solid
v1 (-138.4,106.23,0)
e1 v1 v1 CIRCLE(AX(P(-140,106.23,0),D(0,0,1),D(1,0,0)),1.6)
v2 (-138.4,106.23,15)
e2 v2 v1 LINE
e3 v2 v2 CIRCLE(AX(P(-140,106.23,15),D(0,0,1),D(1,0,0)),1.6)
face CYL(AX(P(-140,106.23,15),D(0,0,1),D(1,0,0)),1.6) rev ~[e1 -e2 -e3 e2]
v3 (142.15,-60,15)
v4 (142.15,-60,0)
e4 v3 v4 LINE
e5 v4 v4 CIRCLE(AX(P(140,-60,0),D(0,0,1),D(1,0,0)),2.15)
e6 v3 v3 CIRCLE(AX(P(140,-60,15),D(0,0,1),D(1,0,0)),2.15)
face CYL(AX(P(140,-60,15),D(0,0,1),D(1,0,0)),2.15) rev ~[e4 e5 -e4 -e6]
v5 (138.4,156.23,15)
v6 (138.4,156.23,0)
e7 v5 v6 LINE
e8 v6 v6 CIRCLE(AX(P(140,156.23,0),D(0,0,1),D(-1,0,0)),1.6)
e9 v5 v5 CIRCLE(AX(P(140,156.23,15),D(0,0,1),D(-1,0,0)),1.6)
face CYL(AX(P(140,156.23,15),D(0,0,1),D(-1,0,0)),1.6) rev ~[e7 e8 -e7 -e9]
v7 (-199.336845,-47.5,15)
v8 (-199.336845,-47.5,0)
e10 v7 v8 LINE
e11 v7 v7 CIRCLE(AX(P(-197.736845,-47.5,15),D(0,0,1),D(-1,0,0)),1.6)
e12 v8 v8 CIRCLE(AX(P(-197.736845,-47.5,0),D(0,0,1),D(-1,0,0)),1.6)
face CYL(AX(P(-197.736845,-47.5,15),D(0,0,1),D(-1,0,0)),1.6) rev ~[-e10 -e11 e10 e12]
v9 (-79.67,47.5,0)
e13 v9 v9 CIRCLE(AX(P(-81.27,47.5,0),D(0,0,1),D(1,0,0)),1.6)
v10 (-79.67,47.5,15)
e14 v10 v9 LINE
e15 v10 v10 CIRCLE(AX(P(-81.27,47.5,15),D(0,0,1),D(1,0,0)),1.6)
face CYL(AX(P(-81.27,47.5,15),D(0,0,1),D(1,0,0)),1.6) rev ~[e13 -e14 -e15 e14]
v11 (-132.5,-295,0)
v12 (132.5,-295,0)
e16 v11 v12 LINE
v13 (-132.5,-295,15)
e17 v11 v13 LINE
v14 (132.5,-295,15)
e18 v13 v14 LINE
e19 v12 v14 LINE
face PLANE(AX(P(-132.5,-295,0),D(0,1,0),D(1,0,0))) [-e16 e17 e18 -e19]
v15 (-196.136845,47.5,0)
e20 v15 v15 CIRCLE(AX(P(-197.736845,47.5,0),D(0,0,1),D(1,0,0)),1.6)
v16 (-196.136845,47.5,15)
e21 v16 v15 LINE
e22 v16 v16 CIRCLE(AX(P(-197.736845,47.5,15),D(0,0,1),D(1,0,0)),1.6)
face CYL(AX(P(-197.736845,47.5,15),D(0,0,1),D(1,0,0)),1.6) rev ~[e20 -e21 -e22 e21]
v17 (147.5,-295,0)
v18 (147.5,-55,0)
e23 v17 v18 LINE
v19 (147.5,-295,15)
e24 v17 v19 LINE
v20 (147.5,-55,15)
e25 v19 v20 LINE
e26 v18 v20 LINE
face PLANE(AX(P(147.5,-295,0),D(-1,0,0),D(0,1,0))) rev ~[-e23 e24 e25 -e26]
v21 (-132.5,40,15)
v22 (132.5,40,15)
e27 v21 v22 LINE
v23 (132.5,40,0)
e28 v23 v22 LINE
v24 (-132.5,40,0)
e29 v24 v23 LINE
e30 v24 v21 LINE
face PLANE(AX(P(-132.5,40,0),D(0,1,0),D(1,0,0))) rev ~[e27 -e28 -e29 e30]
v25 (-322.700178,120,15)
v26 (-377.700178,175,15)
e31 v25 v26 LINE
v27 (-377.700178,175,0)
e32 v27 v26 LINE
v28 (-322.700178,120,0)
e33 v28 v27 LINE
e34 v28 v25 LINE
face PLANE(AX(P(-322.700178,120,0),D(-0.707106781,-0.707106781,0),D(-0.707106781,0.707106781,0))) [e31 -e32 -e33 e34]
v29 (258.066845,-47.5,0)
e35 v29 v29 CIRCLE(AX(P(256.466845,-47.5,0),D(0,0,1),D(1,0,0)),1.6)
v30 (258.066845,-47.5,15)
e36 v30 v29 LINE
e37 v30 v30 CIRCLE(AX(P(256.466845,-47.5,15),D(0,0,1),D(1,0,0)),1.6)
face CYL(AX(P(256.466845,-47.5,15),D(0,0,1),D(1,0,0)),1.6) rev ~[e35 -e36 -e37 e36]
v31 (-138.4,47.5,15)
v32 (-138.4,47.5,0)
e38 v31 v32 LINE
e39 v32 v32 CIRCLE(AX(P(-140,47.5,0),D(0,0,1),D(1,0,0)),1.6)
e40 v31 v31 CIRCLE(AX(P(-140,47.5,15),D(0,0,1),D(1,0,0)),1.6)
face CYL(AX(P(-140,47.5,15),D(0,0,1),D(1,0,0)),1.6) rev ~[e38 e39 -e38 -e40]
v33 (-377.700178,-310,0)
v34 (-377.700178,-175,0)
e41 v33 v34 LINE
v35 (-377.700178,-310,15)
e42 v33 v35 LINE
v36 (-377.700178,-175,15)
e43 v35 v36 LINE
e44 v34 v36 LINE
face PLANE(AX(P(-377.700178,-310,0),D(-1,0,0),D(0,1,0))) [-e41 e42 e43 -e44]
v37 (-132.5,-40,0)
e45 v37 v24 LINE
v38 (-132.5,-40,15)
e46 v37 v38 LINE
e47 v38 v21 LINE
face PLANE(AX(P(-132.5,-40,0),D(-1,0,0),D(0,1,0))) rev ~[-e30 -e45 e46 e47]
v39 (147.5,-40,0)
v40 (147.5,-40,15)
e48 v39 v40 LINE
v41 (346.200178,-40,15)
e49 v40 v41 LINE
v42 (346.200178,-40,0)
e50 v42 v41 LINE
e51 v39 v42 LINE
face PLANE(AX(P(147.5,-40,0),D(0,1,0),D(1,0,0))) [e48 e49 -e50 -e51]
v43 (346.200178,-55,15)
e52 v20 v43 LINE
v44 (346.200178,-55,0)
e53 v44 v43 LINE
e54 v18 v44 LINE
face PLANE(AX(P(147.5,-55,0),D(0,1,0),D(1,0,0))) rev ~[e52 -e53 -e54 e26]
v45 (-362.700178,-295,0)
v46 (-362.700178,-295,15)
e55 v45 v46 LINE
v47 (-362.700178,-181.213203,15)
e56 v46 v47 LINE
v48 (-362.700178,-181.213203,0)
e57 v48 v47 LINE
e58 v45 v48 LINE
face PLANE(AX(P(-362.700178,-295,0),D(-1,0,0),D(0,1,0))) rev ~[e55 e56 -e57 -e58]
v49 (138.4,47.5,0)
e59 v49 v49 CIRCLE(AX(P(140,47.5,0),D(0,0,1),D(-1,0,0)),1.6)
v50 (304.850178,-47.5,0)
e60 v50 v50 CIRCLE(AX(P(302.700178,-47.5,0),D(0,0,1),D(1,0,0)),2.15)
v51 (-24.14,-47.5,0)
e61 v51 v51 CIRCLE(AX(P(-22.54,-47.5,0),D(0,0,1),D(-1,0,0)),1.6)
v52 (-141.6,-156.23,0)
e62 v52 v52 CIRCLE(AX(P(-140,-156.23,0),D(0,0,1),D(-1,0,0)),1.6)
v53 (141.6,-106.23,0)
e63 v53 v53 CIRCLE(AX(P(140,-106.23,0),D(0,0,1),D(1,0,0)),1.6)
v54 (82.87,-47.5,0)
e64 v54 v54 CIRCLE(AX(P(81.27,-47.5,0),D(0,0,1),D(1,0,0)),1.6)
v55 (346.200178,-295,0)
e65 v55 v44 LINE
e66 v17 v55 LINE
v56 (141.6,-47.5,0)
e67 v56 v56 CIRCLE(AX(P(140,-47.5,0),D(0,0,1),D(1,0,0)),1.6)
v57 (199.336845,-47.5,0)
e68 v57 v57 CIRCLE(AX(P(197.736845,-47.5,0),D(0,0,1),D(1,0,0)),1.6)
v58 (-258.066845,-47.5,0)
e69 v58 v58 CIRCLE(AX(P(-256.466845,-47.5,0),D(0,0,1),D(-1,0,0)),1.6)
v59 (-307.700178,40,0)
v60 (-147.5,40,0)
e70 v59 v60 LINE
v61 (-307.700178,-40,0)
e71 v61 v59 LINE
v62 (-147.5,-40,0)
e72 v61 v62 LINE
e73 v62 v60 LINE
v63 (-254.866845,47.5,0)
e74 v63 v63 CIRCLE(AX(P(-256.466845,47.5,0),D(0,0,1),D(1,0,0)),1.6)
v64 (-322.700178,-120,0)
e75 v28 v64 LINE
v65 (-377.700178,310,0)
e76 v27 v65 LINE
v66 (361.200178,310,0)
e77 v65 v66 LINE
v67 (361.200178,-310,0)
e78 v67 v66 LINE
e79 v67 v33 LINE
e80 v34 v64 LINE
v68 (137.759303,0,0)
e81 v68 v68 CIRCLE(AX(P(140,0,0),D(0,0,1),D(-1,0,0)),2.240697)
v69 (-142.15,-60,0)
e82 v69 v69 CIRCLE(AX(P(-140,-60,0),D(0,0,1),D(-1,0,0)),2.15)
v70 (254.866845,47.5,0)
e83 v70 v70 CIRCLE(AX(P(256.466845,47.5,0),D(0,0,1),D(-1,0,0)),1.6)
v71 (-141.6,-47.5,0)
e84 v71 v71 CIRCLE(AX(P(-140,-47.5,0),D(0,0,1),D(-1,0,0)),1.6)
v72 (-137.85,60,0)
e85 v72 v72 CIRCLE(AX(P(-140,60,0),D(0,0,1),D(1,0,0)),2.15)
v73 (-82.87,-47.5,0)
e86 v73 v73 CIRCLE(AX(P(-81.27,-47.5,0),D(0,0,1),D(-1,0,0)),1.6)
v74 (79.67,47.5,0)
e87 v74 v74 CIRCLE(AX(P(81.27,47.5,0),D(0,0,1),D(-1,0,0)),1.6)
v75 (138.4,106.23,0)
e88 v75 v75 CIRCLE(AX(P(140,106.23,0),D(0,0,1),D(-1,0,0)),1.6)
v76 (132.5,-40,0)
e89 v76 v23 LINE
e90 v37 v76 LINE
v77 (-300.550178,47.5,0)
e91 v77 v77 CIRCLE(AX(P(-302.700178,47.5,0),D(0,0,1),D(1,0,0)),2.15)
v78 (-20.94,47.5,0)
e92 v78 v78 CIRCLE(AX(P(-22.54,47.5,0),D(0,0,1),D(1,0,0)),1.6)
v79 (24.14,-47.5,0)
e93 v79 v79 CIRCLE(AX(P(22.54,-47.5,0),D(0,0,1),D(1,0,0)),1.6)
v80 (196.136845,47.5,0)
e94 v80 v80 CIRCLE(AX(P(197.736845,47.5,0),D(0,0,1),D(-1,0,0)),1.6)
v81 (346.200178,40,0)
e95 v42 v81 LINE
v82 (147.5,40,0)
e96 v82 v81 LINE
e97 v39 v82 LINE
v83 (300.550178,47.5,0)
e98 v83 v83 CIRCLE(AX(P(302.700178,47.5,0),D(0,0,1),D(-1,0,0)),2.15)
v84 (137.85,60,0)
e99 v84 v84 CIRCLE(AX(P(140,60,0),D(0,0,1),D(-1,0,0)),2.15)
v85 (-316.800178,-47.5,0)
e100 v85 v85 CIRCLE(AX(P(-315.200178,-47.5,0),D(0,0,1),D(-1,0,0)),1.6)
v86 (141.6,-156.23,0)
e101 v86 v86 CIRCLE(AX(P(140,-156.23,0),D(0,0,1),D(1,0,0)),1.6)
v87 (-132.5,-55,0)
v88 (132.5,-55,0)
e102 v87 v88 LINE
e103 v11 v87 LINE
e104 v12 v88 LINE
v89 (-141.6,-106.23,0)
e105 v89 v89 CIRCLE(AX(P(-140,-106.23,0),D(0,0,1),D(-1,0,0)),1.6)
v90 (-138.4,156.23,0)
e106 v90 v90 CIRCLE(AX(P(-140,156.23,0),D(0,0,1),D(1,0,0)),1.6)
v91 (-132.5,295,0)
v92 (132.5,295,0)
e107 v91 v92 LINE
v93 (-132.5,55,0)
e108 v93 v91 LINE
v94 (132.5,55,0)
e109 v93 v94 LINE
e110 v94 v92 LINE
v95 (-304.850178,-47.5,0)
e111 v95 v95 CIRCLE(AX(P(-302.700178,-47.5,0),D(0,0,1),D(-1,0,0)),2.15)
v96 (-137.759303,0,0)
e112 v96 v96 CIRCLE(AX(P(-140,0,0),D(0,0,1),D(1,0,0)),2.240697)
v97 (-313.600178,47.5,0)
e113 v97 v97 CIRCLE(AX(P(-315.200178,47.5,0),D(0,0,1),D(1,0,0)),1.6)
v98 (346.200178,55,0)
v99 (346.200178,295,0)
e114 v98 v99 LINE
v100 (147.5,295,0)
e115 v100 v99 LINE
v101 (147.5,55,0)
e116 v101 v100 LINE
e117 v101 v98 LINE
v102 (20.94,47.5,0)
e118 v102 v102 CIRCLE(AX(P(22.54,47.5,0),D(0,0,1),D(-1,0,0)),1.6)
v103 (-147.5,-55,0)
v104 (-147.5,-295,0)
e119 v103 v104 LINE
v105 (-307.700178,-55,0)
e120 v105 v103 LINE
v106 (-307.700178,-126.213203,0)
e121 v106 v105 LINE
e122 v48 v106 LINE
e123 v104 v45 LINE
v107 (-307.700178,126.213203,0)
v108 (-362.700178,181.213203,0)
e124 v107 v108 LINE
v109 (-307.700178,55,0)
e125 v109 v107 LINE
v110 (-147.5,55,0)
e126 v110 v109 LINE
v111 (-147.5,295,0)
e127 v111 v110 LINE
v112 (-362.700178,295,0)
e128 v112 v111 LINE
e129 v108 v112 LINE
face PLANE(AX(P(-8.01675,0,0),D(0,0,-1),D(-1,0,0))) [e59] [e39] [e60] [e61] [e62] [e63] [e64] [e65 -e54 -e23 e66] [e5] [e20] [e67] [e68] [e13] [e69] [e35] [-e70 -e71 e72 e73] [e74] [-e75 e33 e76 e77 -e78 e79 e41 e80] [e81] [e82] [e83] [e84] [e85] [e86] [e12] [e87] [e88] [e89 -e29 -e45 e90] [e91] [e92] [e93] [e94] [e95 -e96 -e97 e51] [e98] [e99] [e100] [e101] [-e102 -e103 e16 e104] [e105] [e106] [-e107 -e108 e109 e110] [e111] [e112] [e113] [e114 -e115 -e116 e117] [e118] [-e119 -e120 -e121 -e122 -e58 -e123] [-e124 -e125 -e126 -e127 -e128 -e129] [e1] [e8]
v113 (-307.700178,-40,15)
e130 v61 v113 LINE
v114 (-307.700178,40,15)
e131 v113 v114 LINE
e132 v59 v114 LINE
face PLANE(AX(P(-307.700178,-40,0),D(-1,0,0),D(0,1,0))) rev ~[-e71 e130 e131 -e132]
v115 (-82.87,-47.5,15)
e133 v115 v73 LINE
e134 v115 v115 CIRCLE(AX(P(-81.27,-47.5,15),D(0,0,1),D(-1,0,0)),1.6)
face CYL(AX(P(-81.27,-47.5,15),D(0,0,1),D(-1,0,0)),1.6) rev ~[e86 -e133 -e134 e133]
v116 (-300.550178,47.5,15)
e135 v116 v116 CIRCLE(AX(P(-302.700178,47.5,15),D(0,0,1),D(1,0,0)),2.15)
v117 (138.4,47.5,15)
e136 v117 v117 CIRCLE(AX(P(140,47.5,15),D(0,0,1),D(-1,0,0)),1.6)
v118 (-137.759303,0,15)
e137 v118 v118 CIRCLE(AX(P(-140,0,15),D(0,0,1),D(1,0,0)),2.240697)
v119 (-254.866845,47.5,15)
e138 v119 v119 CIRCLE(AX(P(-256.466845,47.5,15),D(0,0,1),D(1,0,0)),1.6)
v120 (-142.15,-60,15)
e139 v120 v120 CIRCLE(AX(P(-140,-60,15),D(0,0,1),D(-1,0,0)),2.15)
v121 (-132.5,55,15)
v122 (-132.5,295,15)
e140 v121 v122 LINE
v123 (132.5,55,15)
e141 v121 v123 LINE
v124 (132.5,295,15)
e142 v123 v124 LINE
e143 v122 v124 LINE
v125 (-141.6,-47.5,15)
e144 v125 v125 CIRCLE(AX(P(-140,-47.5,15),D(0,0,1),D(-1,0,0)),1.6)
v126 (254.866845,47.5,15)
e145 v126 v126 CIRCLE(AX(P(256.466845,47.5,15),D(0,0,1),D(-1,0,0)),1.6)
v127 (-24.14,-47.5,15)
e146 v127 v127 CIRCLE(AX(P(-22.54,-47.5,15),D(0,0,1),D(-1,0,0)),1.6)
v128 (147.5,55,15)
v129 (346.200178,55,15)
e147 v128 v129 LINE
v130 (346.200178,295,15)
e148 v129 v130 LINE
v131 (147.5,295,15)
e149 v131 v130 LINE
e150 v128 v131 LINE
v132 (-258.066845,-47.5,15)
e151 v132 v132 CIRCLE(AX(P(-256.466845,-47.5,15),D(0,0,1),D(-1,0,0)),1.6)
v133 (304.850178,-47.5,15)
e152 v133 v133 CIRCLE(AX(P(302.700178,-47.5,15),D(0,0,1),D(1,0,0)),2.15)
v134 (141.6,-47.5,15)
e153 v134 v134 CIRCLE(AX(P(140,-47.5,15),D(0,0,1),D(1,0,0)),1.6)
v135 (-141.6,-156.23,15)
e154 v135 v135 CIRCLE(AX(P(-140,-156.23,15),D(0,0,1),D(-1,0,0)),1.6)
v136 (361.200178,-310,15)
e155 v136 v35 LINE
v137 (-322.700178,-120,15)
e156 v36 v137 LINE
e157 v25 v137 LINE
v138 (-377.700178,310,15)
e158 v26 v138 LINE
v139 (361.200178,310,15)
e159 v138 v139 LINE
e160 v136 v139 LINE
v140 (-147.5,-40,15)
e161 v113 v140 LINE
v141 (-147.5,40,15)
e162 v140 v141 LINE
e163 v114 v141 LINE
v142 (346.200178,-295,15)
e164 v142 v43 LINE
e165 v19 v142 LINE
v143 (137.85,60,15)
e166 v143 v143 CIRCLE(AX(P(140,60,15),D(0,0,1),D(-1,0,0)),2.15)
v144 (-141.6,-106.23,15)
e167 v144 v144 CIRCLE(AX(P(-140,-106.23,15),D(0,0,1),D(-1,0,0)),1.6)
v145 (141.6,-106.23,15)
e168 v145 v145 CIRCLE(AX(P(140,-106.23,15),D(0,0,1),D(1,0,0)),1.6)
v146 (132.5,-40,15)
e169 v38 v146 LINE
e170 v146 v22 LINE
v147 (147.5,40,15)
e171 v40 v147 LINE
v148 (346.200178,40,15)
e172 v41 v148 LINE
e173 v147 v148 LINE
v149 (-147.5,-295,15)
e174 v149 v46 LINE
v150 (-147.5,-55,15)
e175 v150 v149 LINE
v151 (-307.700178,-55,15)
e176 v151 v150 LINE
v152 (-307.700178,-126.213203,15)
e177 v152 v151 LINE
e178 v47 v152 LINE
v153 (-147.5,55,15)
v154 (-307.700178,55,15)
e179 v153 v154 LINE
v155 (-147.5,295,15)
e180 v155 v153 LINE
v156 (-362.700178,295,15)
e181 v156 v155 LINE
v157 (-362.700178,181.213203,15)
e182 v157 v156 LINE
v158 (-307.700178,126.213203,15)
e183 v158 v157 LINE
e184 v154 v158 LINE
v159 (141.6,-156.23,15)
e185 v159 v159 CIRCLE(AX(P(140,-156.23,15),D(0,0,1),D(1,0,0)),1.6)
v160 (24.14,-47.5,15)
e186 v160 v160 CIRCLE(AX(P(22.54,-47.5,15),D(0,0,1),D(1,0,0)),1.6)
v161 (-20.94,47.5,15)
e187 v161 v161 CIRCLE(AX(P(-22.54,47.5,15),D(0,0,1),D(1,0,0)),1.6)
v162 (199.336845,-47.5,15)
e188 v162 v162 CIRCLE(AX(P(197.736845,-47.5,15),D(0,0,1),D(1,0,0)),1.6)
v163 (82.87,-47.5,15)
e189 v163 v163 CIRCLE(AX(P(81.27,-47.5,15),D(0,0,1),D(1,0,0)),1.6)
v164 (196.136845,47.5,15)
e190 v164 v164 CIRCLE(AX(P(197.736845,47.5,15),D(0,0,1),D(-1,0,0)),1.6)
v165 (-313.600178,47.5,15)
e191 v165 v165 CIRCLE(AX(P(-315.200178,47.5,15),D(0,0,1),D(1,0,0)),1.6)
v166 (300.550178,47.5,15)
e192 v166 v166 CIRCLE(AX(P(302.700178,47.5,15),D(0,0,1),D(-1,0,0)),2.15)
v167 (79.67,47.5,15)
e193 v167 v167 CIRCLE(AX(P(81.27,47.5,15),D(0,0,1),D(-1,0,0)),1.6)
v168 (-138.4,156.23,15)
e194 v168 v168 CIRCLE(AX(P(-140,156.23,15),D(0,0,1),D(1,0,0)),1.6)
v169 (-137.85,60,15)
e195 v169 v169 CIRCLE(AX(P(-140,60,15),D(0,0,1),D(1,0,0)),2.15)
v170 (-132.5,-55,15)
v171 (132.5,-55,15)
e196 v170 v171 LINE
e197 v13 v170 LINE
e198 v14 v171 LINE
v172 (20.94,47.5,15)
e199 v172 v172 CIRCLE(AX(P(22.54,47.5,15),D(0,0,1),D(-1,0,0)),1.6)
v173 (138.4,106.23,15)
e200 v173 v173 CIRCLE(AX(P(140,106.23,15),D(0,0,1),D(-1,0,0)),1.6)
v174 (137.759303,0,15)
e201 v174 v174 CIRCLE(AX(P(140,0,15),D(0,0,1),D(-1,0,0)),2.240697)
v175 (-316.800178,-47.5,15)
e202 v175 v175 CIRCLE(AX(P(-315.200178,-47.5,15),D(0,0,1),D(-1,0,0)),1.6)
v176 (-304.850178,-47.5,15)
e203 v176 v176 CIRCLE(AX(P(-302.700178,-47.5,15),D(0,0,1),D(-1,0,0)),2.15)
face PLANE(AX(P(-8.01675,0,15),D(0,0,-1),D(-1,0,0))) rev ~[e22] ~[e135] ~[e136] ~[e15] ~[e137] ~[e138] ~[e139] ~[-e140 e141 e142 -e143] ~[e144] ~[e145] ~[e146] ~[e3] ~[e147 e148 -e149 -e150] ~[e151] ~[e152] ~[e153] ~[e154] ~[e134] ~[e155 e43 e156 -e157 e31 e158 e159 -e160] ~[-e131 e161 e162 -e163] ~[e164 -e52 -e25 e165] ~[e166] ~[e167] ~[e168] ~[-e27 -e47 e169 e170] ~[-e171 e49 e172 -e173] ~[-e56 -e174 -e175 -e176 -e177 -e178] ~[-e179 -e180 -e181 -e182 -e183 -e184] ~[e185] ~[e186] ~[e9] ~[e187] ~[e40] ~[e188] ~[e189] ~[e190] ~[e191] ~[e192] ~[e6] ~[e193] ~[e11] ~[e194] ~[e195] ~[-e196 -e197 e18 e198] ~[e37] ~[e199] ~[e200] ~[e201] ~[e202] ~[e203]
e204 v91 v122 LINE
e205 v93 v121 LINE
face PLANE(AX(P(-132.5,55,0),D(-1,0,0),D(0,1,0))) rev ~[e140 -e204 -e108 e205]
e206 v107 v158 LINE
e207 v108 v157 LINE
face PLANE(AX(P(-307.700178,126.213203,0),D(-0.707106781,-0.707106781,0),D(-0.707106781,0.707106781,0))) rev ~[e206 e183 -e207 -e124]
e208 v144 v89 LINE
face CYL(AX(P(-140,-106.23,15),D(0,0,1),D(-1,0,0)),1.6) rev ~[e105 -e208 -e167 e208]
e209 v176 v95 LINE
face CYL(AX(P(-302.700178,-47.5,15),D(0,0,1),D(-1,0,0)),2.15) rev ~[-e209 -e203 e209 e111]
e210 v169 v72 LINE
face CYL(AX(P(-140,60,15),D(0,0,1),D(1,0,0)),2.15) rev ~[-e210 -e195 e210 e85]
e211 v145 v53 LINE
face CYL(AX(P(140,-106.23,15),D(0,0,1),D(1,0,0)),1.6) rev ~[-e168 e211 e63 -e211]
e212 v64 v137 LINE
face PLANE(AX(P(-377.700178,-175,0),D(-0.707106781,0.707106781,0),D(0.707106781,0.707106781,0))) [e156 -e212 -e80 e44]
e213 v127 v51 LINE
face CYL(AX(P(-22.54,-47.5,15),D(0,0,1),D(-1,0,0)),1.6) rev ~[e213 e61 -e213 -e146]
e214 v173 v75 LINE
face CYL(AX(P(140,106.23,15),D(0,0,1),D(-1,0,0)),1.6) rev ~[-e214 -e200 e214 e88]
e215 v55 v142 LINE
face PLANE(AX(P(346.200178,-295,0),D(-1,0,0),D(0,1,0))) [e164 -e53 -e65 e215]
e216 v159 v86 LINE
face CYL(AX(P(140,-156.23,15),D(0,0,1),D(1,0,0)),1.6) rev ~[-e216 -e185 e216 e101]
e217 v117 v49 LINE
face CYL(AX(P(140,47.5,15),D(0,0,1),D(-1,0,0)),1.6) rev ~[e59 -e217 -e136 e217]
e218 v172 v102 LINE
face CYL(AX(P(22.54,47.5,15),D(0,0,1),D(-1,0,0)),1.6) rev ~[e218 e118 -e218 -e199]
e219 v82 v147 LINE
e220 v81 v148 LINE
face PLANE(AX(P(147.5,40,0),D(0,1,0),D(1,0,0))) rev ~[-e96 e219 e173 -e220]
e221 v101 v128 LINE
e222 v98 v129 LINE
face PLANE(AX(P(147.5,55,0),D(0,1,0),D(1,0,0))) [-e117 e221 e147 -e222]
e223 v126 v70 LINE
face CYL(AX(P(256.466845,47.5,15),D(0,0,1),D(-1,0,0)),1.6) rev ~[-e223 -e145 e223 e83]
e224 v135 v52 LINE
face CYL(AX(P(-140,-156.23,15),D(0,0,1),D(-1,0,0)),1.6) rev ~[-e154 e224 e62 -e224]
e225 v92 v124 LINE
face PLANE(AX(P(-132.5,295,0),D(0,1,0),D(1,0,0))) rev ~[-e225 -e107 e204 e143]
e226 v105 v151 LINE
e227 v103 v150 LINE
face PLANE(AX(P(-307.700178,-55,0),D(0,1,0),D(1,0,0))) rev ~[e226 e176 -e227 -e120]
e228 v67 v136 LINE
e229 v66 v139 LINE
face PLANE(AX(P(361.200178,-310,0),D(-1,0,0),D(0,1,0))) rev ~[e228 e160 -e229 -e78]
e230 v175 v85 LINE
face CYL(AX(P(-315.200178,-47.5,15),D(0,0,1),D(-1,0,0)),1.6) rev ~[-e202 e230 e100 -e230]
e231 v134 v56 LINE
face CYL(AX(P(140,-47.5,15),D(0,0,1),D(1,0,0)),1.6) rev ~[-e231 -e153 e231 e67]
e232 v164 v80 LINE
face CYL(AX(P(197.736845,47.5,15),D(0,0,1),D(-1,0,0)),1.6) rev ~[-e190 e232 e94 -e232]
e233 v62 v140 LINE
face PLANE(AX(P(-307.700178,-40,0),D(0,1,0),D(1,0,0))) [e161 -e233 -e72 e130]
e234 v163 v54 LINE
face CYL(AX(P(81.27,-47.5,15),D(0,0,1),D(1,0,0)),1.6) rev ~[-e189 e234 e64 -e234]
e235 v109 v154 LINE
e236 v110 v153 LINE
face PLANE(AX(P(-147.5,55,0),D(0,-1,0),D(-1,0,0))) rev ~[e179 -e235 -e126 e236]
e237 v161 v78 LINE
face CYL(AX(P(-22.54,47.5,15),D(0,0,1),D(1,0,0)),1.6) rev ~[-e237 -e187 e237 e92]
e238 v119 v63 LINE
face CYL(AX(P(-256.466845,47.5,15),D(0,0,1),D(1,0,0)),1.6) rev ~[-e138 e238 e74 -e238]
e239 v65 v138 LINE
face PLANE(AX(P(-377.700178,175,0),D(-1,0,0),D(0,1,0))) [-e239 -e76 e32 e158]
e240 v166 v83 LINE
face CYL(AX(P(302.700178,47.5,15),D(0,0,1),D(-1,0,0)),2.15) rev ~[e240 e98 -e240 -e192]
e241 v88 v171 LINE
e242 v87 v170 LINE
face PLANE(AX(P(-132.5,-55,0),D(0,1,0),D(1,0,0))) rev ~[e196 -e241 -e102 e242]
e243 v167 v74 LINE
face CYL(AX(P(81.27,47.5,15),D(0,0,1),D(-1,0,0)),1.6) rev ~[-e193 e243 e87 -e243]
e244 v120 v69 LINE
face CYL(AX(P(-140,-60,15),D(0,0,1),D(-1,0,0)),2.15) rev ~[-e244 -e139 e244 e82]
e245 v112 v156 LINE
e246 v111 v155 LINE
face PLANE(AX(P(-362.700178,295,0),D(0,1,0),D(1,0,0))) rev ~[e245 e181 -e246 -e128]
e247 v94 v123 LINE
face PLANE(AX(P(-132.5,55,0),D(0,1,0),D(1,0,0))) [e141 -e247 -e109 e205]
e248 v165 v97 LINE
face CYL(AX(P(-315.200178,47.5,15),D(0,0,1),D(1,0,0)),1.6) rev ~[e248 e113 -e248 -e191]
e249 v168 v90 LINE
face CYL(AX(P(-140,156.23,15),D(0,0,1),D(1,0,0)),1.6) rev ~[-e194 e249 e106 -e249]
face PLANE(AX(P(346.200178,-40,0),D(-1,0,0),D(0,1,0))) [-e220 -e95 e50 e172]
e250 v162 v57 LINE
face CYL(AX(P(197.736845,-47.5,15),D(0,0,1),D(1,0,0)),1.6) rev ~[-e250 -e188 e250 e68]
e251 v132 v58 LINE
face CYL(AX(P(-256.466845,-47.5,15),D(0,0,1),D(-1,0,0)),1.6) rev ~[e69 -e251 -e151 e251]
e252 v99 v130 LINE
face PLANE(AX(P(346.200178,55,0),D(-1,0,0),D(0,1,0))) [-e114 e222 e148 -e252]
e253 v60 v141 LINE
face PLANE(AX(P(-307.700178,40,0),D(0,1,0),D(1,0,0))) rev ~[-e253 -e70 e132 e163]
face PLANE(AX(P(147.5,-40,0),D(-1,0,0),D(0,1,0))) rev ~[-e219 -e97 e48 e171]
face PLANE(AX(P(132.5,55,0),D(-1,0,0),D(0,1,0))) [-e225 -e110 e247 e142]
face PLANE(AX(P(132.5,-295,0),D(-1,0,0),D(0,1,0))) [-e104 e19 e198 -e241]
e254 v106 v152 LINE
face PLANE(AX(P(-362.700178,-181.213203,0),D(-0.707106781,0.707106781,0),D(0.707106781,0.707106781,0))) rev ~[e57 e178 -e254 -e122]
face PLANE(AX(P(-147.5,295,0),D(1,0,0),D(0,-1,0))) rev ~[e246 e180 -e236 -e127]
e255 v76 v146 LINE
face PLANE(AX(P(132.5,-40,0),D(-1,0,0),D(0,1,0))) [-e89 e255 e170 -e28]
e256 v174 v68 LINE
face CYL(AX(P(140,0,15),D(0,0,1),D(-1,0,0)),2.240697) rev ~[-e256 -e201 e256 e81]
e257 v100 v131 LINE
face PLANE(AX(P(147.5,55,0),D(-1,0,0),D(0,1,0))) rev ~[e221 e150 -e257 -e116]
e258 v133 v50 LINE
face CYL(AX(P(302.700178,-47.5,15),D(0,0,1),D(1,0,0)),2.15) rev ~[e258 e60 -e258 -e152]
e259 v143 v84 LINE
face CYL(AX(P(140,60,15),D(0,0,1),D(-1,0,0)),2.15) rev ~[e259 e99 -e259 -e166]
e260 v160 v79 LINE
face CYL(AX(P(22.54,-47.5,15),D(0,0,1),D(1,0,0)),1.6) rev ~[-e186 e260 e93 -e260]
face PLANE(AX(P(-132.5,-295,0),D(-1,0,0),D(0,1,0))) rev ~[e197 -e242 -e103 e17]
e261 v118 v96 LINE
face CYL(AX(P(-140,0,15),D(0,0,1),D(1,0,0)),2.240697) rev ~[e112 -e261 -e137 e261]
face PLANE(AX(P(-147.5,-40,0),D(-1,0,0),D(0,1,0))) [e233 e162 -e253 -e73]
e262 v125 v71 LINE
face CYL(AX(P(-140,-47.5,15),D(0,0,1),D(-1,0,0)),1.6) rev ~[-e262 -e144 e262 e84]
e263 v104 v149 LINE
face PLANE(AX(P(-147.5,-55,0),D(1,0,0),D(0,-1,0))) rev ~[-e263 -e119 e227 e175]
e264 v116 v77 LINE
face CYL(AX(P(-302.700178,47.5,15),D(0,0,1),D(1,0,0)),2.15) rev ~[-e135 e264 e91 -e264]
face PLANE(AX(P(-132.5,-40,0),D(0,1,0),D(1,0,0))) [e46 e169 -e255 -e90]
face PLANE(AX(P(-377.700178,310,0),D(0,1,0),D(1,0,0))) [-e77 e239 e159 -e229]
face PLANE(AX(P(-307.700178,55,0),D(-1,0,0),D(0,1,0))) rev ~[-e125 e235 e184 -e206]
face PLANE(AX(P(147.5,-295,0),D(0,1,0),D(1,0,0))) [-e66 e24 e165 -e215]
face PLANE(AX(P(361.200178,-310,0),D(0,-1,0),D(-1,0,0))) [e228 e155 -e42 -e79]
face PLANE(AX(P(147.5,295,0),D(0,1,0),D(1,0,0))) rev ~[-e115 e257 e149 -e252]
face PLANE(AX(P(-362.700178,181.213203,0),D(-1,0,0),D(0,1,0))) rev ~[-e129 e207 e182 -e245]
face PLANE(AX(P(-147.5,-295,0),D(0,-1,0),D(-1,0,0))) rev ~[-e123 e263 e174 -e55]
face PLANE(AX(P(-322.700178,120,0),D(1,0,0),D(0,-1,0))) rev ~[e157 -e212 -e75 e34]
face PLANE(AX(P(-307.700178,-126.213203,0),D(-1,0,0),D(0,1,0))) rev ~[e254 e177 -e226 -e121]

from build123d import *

# Parameters (mm, degrees)
SKETCH_2_W          = 160.200177837
SKETCH_2_H          = 80
SKETCH_2_W_2        = 198.700177837
SKETCH_2_H_2        = 240
SKETCH_2_W_3        = 265
EXTRUDE_1_DEPTH     = 15
SKETCH_3_R          = 2.15
SKETCH_3_R_2        = 1.6
SKETCH_3_R_3        = 2.240696867
CUT_EXTRUDE_1_DEPTH = 15


with BuildPart() as part:
    # 草图2 → 凸台-拉伸1 (new body)
    with BuildSketch(Plane.XY):
        Polygon((-377.700177837, 310), (361.200177837, 310), (361.200177837, 40), (361.200177837, -40), (361.200177837, -310), (-377.700177837, -310), (-377.700177837, -175), (-322.700177837, -120), (-322.700177837, -40), (-322.700177837, 40), (-322.700177837, 120), (-377.700177837, 175), align=None)
        Polygon((-362.700177837, 295), (-147.5, 295), (-147.5, 55), (-307.700177837, 55), (-307.700177837, 126.213203436), (-362.700177837, 181.213203436), align=None, mode=Mode.SUBTRACT)
        with Locations((-227.600088919, 0)):
            Rectangle(SKETCH_2_W, SKETCH_2_H, mode=Mode.SUBTRACT)
        with Locations((246.850088919, 175)):
            Rectangle(SKETCH_2_W_2, SKETCH_2_H_2, mode=Mode.SUBTRACT)
        with Locations((0, 175)):
            Rectangle(SKETCH_2_W_3, SKETCH_2_H_2, mode=Mode.SUBTRACT)
        with Locations((246.850088919, -175)):
            Rectangle(SKETCH_2_W_2, SKETCH_2_H_2, mode=Mode.SUBTRACT)
        with Locations((0, -175)):
            Rectangle(SKETCH_2_W_3, SKETCH_2_H_2, mode=Mode.SUBTRACT)
        Polygon((-307.700177837, -126.213203436), (-307.700177837, -55), (-147.5, -55), (-147.5, -295), (-362.700177837, -295), (-362.700177837, -181.213203436), align=None, mode=Mode.SUBTRACT)
        Rectangle(SKETCH_2_W_3, SKETCH_2_H, mode=Mode.SUBTRACT)
        with Locations((246.850088919, 0)):
            Rectangle(SKETCH_2_W_2, SKETCH_2_H, mode=Mode.SUBTRACT)
    extrude(amount=EXTRUDE_1_DEPTH)

    # 草图3 → 切除-拉伸1 (cut)
    with BuildSketch(Plane.XY.offset(15)):
        with Locations((-140, 60)):
            Circle(SKETCH_3_R)
        with Locations((-315.200177837, 47.5)):
            Circle(SKETCH_3_R_2)
        with Locations((-256.466844504, 47.5)):
            Circle(SKETCH_3_R_2)
        with Locations((-197.736844504, 47.5)):
            Circle(SKETCH_3_R_2)
        with Locations((-140, 47.5)):
            Circle(SKETCH_3_R_2)
        with Locations((-140, 156.23)):
            Circle(SKETCH_3_R_2)
        with Locations((-140, 106.23)):
            Circle(SKETCH_3_R_2)
        with Locations((-81.27, 47.5)):
            Circle(SKETCH_3_R_2)
        with Locations((-22.54, 47.5)):
            Circle(SKETCH_3_R_2)
        with Locations((-140, 0)):
            Circle(SKETCH_3_R_3)
        with Locations((-302.700177837, 47.5)):
            Circle(SKETCH_3_R)
        with Locations(Location((-302.700177837, -47.5, 0), (0, 0, 180))):
            Circle(SKETCH_3_R)
        with Locations(Location((-22.54, -47.5, 0), (0, 0, 180))):
            Circle(SKETCH_3_R_2)
        with Locations(Location((-81.27, -47.5, 0), (0, 0, 180))):
            Circle(SKETCH_3_R_2)
        with Locations(Location((-140, -106.23, 0), (0, 0, 180))):
            Circle(SKETCH_3_R_2)
        with Locations(Location((-140, -156.23, 0), (0, 0, 180))):
            Circle(SKETCH_3_R_2)
        with Locations(Location((-140, -47.5, 0), (0, 0, 180))):
            Circle(SKETCH_3_R_2)
        with Locations(Location((-197.736844504, -47.5, 0), (0, 0, 180))):
            Circle(SKETCH_3_R_2)
        with Locations(Location((-256.466844504, -47.5, 0), (0, 0, 180))):
            Circle(SKETCH_3_R_2)
        with Locations(Location((-315.200177837, -47.5, 0), (0, 0, 180))):
            Circle(SKETCH_3_R_2)
        with Locations(Location((-140, -60, 0), (0, 0, 180))):
            Circle(SKETCH_3_R)
        with Locations((140, -60)):
            Circle(SKETCH_3_R)
        with Locations((256.466844504, -47.5)):
            Circle(SKETCH_3_R_2)
        with Locations((197.736844504, -47.5)):
            Circle(SKETCH_3_R_2)
        with Locations((140, -47.5)):
            Circle(SKETCH_3_R_2)
        with Locations((140, -156.23)):
            Circle(SKETCH_3_R_2)
        with Locations((140, -106.23)):
            Circle(SKETCH_3_R_2)
        with Locations((81.27, -47.5)):
            Circle(SKETCH_3_R_2)
        with Locations((22.54, -47.5)):
            Circle(SKETCH_3_R_2)
        with Locations((302.700177837, -47.5)):
            Circle(SKETCH_3_R)
        with Locations(Location((302.700177837, 47.5, 0), (0, 0, 180))):
            Circle(SKETCH_3_R)
        with Locations(Location((140, 0, 0), (0, 0, 180))):
            Circle(SKETCH_3_R_3)
        with Locations(Location((22.54, 47.5, 0), (0, 0, 180))):
            Circle(SKETCH_3_R_2)
        with Locations(Location((81.27, 47.5, 0), (0, 0, 180))):
            Circle(SKETCH_3_R_2)
        with Locations(Location((140, 106.23, 0), (0, 0, 180))):
            Circle(SKETCH_3_R_2)
        with Locations(Location((140, 156.23, 0), (0, 0, 180))):
            Circle(SKETCH_3_R_2)
        with Locations(Location((140, 47.5, 0), (0, 0, 180))):
            Circle(SKETCH_3_R_2)
        with Locations(Location((197.736844504, 47.5, 0), (0, 0, 180))):
            Circle(SKETCH_3_R_2)
        with Locations(Location((256.466844504, 47.5, 0), (0, 0, 180))):
            Circle(SKETCH_3_R_2)
        with Locations(Location((140, 60, 0), (0, 0, 180))):
            Circle(SKETCH_3_R)
    extrude(amount=-CUT_EXTRUDE_1_DEPTH, mode=Mode.SUBTRACT)


solid = part.part
